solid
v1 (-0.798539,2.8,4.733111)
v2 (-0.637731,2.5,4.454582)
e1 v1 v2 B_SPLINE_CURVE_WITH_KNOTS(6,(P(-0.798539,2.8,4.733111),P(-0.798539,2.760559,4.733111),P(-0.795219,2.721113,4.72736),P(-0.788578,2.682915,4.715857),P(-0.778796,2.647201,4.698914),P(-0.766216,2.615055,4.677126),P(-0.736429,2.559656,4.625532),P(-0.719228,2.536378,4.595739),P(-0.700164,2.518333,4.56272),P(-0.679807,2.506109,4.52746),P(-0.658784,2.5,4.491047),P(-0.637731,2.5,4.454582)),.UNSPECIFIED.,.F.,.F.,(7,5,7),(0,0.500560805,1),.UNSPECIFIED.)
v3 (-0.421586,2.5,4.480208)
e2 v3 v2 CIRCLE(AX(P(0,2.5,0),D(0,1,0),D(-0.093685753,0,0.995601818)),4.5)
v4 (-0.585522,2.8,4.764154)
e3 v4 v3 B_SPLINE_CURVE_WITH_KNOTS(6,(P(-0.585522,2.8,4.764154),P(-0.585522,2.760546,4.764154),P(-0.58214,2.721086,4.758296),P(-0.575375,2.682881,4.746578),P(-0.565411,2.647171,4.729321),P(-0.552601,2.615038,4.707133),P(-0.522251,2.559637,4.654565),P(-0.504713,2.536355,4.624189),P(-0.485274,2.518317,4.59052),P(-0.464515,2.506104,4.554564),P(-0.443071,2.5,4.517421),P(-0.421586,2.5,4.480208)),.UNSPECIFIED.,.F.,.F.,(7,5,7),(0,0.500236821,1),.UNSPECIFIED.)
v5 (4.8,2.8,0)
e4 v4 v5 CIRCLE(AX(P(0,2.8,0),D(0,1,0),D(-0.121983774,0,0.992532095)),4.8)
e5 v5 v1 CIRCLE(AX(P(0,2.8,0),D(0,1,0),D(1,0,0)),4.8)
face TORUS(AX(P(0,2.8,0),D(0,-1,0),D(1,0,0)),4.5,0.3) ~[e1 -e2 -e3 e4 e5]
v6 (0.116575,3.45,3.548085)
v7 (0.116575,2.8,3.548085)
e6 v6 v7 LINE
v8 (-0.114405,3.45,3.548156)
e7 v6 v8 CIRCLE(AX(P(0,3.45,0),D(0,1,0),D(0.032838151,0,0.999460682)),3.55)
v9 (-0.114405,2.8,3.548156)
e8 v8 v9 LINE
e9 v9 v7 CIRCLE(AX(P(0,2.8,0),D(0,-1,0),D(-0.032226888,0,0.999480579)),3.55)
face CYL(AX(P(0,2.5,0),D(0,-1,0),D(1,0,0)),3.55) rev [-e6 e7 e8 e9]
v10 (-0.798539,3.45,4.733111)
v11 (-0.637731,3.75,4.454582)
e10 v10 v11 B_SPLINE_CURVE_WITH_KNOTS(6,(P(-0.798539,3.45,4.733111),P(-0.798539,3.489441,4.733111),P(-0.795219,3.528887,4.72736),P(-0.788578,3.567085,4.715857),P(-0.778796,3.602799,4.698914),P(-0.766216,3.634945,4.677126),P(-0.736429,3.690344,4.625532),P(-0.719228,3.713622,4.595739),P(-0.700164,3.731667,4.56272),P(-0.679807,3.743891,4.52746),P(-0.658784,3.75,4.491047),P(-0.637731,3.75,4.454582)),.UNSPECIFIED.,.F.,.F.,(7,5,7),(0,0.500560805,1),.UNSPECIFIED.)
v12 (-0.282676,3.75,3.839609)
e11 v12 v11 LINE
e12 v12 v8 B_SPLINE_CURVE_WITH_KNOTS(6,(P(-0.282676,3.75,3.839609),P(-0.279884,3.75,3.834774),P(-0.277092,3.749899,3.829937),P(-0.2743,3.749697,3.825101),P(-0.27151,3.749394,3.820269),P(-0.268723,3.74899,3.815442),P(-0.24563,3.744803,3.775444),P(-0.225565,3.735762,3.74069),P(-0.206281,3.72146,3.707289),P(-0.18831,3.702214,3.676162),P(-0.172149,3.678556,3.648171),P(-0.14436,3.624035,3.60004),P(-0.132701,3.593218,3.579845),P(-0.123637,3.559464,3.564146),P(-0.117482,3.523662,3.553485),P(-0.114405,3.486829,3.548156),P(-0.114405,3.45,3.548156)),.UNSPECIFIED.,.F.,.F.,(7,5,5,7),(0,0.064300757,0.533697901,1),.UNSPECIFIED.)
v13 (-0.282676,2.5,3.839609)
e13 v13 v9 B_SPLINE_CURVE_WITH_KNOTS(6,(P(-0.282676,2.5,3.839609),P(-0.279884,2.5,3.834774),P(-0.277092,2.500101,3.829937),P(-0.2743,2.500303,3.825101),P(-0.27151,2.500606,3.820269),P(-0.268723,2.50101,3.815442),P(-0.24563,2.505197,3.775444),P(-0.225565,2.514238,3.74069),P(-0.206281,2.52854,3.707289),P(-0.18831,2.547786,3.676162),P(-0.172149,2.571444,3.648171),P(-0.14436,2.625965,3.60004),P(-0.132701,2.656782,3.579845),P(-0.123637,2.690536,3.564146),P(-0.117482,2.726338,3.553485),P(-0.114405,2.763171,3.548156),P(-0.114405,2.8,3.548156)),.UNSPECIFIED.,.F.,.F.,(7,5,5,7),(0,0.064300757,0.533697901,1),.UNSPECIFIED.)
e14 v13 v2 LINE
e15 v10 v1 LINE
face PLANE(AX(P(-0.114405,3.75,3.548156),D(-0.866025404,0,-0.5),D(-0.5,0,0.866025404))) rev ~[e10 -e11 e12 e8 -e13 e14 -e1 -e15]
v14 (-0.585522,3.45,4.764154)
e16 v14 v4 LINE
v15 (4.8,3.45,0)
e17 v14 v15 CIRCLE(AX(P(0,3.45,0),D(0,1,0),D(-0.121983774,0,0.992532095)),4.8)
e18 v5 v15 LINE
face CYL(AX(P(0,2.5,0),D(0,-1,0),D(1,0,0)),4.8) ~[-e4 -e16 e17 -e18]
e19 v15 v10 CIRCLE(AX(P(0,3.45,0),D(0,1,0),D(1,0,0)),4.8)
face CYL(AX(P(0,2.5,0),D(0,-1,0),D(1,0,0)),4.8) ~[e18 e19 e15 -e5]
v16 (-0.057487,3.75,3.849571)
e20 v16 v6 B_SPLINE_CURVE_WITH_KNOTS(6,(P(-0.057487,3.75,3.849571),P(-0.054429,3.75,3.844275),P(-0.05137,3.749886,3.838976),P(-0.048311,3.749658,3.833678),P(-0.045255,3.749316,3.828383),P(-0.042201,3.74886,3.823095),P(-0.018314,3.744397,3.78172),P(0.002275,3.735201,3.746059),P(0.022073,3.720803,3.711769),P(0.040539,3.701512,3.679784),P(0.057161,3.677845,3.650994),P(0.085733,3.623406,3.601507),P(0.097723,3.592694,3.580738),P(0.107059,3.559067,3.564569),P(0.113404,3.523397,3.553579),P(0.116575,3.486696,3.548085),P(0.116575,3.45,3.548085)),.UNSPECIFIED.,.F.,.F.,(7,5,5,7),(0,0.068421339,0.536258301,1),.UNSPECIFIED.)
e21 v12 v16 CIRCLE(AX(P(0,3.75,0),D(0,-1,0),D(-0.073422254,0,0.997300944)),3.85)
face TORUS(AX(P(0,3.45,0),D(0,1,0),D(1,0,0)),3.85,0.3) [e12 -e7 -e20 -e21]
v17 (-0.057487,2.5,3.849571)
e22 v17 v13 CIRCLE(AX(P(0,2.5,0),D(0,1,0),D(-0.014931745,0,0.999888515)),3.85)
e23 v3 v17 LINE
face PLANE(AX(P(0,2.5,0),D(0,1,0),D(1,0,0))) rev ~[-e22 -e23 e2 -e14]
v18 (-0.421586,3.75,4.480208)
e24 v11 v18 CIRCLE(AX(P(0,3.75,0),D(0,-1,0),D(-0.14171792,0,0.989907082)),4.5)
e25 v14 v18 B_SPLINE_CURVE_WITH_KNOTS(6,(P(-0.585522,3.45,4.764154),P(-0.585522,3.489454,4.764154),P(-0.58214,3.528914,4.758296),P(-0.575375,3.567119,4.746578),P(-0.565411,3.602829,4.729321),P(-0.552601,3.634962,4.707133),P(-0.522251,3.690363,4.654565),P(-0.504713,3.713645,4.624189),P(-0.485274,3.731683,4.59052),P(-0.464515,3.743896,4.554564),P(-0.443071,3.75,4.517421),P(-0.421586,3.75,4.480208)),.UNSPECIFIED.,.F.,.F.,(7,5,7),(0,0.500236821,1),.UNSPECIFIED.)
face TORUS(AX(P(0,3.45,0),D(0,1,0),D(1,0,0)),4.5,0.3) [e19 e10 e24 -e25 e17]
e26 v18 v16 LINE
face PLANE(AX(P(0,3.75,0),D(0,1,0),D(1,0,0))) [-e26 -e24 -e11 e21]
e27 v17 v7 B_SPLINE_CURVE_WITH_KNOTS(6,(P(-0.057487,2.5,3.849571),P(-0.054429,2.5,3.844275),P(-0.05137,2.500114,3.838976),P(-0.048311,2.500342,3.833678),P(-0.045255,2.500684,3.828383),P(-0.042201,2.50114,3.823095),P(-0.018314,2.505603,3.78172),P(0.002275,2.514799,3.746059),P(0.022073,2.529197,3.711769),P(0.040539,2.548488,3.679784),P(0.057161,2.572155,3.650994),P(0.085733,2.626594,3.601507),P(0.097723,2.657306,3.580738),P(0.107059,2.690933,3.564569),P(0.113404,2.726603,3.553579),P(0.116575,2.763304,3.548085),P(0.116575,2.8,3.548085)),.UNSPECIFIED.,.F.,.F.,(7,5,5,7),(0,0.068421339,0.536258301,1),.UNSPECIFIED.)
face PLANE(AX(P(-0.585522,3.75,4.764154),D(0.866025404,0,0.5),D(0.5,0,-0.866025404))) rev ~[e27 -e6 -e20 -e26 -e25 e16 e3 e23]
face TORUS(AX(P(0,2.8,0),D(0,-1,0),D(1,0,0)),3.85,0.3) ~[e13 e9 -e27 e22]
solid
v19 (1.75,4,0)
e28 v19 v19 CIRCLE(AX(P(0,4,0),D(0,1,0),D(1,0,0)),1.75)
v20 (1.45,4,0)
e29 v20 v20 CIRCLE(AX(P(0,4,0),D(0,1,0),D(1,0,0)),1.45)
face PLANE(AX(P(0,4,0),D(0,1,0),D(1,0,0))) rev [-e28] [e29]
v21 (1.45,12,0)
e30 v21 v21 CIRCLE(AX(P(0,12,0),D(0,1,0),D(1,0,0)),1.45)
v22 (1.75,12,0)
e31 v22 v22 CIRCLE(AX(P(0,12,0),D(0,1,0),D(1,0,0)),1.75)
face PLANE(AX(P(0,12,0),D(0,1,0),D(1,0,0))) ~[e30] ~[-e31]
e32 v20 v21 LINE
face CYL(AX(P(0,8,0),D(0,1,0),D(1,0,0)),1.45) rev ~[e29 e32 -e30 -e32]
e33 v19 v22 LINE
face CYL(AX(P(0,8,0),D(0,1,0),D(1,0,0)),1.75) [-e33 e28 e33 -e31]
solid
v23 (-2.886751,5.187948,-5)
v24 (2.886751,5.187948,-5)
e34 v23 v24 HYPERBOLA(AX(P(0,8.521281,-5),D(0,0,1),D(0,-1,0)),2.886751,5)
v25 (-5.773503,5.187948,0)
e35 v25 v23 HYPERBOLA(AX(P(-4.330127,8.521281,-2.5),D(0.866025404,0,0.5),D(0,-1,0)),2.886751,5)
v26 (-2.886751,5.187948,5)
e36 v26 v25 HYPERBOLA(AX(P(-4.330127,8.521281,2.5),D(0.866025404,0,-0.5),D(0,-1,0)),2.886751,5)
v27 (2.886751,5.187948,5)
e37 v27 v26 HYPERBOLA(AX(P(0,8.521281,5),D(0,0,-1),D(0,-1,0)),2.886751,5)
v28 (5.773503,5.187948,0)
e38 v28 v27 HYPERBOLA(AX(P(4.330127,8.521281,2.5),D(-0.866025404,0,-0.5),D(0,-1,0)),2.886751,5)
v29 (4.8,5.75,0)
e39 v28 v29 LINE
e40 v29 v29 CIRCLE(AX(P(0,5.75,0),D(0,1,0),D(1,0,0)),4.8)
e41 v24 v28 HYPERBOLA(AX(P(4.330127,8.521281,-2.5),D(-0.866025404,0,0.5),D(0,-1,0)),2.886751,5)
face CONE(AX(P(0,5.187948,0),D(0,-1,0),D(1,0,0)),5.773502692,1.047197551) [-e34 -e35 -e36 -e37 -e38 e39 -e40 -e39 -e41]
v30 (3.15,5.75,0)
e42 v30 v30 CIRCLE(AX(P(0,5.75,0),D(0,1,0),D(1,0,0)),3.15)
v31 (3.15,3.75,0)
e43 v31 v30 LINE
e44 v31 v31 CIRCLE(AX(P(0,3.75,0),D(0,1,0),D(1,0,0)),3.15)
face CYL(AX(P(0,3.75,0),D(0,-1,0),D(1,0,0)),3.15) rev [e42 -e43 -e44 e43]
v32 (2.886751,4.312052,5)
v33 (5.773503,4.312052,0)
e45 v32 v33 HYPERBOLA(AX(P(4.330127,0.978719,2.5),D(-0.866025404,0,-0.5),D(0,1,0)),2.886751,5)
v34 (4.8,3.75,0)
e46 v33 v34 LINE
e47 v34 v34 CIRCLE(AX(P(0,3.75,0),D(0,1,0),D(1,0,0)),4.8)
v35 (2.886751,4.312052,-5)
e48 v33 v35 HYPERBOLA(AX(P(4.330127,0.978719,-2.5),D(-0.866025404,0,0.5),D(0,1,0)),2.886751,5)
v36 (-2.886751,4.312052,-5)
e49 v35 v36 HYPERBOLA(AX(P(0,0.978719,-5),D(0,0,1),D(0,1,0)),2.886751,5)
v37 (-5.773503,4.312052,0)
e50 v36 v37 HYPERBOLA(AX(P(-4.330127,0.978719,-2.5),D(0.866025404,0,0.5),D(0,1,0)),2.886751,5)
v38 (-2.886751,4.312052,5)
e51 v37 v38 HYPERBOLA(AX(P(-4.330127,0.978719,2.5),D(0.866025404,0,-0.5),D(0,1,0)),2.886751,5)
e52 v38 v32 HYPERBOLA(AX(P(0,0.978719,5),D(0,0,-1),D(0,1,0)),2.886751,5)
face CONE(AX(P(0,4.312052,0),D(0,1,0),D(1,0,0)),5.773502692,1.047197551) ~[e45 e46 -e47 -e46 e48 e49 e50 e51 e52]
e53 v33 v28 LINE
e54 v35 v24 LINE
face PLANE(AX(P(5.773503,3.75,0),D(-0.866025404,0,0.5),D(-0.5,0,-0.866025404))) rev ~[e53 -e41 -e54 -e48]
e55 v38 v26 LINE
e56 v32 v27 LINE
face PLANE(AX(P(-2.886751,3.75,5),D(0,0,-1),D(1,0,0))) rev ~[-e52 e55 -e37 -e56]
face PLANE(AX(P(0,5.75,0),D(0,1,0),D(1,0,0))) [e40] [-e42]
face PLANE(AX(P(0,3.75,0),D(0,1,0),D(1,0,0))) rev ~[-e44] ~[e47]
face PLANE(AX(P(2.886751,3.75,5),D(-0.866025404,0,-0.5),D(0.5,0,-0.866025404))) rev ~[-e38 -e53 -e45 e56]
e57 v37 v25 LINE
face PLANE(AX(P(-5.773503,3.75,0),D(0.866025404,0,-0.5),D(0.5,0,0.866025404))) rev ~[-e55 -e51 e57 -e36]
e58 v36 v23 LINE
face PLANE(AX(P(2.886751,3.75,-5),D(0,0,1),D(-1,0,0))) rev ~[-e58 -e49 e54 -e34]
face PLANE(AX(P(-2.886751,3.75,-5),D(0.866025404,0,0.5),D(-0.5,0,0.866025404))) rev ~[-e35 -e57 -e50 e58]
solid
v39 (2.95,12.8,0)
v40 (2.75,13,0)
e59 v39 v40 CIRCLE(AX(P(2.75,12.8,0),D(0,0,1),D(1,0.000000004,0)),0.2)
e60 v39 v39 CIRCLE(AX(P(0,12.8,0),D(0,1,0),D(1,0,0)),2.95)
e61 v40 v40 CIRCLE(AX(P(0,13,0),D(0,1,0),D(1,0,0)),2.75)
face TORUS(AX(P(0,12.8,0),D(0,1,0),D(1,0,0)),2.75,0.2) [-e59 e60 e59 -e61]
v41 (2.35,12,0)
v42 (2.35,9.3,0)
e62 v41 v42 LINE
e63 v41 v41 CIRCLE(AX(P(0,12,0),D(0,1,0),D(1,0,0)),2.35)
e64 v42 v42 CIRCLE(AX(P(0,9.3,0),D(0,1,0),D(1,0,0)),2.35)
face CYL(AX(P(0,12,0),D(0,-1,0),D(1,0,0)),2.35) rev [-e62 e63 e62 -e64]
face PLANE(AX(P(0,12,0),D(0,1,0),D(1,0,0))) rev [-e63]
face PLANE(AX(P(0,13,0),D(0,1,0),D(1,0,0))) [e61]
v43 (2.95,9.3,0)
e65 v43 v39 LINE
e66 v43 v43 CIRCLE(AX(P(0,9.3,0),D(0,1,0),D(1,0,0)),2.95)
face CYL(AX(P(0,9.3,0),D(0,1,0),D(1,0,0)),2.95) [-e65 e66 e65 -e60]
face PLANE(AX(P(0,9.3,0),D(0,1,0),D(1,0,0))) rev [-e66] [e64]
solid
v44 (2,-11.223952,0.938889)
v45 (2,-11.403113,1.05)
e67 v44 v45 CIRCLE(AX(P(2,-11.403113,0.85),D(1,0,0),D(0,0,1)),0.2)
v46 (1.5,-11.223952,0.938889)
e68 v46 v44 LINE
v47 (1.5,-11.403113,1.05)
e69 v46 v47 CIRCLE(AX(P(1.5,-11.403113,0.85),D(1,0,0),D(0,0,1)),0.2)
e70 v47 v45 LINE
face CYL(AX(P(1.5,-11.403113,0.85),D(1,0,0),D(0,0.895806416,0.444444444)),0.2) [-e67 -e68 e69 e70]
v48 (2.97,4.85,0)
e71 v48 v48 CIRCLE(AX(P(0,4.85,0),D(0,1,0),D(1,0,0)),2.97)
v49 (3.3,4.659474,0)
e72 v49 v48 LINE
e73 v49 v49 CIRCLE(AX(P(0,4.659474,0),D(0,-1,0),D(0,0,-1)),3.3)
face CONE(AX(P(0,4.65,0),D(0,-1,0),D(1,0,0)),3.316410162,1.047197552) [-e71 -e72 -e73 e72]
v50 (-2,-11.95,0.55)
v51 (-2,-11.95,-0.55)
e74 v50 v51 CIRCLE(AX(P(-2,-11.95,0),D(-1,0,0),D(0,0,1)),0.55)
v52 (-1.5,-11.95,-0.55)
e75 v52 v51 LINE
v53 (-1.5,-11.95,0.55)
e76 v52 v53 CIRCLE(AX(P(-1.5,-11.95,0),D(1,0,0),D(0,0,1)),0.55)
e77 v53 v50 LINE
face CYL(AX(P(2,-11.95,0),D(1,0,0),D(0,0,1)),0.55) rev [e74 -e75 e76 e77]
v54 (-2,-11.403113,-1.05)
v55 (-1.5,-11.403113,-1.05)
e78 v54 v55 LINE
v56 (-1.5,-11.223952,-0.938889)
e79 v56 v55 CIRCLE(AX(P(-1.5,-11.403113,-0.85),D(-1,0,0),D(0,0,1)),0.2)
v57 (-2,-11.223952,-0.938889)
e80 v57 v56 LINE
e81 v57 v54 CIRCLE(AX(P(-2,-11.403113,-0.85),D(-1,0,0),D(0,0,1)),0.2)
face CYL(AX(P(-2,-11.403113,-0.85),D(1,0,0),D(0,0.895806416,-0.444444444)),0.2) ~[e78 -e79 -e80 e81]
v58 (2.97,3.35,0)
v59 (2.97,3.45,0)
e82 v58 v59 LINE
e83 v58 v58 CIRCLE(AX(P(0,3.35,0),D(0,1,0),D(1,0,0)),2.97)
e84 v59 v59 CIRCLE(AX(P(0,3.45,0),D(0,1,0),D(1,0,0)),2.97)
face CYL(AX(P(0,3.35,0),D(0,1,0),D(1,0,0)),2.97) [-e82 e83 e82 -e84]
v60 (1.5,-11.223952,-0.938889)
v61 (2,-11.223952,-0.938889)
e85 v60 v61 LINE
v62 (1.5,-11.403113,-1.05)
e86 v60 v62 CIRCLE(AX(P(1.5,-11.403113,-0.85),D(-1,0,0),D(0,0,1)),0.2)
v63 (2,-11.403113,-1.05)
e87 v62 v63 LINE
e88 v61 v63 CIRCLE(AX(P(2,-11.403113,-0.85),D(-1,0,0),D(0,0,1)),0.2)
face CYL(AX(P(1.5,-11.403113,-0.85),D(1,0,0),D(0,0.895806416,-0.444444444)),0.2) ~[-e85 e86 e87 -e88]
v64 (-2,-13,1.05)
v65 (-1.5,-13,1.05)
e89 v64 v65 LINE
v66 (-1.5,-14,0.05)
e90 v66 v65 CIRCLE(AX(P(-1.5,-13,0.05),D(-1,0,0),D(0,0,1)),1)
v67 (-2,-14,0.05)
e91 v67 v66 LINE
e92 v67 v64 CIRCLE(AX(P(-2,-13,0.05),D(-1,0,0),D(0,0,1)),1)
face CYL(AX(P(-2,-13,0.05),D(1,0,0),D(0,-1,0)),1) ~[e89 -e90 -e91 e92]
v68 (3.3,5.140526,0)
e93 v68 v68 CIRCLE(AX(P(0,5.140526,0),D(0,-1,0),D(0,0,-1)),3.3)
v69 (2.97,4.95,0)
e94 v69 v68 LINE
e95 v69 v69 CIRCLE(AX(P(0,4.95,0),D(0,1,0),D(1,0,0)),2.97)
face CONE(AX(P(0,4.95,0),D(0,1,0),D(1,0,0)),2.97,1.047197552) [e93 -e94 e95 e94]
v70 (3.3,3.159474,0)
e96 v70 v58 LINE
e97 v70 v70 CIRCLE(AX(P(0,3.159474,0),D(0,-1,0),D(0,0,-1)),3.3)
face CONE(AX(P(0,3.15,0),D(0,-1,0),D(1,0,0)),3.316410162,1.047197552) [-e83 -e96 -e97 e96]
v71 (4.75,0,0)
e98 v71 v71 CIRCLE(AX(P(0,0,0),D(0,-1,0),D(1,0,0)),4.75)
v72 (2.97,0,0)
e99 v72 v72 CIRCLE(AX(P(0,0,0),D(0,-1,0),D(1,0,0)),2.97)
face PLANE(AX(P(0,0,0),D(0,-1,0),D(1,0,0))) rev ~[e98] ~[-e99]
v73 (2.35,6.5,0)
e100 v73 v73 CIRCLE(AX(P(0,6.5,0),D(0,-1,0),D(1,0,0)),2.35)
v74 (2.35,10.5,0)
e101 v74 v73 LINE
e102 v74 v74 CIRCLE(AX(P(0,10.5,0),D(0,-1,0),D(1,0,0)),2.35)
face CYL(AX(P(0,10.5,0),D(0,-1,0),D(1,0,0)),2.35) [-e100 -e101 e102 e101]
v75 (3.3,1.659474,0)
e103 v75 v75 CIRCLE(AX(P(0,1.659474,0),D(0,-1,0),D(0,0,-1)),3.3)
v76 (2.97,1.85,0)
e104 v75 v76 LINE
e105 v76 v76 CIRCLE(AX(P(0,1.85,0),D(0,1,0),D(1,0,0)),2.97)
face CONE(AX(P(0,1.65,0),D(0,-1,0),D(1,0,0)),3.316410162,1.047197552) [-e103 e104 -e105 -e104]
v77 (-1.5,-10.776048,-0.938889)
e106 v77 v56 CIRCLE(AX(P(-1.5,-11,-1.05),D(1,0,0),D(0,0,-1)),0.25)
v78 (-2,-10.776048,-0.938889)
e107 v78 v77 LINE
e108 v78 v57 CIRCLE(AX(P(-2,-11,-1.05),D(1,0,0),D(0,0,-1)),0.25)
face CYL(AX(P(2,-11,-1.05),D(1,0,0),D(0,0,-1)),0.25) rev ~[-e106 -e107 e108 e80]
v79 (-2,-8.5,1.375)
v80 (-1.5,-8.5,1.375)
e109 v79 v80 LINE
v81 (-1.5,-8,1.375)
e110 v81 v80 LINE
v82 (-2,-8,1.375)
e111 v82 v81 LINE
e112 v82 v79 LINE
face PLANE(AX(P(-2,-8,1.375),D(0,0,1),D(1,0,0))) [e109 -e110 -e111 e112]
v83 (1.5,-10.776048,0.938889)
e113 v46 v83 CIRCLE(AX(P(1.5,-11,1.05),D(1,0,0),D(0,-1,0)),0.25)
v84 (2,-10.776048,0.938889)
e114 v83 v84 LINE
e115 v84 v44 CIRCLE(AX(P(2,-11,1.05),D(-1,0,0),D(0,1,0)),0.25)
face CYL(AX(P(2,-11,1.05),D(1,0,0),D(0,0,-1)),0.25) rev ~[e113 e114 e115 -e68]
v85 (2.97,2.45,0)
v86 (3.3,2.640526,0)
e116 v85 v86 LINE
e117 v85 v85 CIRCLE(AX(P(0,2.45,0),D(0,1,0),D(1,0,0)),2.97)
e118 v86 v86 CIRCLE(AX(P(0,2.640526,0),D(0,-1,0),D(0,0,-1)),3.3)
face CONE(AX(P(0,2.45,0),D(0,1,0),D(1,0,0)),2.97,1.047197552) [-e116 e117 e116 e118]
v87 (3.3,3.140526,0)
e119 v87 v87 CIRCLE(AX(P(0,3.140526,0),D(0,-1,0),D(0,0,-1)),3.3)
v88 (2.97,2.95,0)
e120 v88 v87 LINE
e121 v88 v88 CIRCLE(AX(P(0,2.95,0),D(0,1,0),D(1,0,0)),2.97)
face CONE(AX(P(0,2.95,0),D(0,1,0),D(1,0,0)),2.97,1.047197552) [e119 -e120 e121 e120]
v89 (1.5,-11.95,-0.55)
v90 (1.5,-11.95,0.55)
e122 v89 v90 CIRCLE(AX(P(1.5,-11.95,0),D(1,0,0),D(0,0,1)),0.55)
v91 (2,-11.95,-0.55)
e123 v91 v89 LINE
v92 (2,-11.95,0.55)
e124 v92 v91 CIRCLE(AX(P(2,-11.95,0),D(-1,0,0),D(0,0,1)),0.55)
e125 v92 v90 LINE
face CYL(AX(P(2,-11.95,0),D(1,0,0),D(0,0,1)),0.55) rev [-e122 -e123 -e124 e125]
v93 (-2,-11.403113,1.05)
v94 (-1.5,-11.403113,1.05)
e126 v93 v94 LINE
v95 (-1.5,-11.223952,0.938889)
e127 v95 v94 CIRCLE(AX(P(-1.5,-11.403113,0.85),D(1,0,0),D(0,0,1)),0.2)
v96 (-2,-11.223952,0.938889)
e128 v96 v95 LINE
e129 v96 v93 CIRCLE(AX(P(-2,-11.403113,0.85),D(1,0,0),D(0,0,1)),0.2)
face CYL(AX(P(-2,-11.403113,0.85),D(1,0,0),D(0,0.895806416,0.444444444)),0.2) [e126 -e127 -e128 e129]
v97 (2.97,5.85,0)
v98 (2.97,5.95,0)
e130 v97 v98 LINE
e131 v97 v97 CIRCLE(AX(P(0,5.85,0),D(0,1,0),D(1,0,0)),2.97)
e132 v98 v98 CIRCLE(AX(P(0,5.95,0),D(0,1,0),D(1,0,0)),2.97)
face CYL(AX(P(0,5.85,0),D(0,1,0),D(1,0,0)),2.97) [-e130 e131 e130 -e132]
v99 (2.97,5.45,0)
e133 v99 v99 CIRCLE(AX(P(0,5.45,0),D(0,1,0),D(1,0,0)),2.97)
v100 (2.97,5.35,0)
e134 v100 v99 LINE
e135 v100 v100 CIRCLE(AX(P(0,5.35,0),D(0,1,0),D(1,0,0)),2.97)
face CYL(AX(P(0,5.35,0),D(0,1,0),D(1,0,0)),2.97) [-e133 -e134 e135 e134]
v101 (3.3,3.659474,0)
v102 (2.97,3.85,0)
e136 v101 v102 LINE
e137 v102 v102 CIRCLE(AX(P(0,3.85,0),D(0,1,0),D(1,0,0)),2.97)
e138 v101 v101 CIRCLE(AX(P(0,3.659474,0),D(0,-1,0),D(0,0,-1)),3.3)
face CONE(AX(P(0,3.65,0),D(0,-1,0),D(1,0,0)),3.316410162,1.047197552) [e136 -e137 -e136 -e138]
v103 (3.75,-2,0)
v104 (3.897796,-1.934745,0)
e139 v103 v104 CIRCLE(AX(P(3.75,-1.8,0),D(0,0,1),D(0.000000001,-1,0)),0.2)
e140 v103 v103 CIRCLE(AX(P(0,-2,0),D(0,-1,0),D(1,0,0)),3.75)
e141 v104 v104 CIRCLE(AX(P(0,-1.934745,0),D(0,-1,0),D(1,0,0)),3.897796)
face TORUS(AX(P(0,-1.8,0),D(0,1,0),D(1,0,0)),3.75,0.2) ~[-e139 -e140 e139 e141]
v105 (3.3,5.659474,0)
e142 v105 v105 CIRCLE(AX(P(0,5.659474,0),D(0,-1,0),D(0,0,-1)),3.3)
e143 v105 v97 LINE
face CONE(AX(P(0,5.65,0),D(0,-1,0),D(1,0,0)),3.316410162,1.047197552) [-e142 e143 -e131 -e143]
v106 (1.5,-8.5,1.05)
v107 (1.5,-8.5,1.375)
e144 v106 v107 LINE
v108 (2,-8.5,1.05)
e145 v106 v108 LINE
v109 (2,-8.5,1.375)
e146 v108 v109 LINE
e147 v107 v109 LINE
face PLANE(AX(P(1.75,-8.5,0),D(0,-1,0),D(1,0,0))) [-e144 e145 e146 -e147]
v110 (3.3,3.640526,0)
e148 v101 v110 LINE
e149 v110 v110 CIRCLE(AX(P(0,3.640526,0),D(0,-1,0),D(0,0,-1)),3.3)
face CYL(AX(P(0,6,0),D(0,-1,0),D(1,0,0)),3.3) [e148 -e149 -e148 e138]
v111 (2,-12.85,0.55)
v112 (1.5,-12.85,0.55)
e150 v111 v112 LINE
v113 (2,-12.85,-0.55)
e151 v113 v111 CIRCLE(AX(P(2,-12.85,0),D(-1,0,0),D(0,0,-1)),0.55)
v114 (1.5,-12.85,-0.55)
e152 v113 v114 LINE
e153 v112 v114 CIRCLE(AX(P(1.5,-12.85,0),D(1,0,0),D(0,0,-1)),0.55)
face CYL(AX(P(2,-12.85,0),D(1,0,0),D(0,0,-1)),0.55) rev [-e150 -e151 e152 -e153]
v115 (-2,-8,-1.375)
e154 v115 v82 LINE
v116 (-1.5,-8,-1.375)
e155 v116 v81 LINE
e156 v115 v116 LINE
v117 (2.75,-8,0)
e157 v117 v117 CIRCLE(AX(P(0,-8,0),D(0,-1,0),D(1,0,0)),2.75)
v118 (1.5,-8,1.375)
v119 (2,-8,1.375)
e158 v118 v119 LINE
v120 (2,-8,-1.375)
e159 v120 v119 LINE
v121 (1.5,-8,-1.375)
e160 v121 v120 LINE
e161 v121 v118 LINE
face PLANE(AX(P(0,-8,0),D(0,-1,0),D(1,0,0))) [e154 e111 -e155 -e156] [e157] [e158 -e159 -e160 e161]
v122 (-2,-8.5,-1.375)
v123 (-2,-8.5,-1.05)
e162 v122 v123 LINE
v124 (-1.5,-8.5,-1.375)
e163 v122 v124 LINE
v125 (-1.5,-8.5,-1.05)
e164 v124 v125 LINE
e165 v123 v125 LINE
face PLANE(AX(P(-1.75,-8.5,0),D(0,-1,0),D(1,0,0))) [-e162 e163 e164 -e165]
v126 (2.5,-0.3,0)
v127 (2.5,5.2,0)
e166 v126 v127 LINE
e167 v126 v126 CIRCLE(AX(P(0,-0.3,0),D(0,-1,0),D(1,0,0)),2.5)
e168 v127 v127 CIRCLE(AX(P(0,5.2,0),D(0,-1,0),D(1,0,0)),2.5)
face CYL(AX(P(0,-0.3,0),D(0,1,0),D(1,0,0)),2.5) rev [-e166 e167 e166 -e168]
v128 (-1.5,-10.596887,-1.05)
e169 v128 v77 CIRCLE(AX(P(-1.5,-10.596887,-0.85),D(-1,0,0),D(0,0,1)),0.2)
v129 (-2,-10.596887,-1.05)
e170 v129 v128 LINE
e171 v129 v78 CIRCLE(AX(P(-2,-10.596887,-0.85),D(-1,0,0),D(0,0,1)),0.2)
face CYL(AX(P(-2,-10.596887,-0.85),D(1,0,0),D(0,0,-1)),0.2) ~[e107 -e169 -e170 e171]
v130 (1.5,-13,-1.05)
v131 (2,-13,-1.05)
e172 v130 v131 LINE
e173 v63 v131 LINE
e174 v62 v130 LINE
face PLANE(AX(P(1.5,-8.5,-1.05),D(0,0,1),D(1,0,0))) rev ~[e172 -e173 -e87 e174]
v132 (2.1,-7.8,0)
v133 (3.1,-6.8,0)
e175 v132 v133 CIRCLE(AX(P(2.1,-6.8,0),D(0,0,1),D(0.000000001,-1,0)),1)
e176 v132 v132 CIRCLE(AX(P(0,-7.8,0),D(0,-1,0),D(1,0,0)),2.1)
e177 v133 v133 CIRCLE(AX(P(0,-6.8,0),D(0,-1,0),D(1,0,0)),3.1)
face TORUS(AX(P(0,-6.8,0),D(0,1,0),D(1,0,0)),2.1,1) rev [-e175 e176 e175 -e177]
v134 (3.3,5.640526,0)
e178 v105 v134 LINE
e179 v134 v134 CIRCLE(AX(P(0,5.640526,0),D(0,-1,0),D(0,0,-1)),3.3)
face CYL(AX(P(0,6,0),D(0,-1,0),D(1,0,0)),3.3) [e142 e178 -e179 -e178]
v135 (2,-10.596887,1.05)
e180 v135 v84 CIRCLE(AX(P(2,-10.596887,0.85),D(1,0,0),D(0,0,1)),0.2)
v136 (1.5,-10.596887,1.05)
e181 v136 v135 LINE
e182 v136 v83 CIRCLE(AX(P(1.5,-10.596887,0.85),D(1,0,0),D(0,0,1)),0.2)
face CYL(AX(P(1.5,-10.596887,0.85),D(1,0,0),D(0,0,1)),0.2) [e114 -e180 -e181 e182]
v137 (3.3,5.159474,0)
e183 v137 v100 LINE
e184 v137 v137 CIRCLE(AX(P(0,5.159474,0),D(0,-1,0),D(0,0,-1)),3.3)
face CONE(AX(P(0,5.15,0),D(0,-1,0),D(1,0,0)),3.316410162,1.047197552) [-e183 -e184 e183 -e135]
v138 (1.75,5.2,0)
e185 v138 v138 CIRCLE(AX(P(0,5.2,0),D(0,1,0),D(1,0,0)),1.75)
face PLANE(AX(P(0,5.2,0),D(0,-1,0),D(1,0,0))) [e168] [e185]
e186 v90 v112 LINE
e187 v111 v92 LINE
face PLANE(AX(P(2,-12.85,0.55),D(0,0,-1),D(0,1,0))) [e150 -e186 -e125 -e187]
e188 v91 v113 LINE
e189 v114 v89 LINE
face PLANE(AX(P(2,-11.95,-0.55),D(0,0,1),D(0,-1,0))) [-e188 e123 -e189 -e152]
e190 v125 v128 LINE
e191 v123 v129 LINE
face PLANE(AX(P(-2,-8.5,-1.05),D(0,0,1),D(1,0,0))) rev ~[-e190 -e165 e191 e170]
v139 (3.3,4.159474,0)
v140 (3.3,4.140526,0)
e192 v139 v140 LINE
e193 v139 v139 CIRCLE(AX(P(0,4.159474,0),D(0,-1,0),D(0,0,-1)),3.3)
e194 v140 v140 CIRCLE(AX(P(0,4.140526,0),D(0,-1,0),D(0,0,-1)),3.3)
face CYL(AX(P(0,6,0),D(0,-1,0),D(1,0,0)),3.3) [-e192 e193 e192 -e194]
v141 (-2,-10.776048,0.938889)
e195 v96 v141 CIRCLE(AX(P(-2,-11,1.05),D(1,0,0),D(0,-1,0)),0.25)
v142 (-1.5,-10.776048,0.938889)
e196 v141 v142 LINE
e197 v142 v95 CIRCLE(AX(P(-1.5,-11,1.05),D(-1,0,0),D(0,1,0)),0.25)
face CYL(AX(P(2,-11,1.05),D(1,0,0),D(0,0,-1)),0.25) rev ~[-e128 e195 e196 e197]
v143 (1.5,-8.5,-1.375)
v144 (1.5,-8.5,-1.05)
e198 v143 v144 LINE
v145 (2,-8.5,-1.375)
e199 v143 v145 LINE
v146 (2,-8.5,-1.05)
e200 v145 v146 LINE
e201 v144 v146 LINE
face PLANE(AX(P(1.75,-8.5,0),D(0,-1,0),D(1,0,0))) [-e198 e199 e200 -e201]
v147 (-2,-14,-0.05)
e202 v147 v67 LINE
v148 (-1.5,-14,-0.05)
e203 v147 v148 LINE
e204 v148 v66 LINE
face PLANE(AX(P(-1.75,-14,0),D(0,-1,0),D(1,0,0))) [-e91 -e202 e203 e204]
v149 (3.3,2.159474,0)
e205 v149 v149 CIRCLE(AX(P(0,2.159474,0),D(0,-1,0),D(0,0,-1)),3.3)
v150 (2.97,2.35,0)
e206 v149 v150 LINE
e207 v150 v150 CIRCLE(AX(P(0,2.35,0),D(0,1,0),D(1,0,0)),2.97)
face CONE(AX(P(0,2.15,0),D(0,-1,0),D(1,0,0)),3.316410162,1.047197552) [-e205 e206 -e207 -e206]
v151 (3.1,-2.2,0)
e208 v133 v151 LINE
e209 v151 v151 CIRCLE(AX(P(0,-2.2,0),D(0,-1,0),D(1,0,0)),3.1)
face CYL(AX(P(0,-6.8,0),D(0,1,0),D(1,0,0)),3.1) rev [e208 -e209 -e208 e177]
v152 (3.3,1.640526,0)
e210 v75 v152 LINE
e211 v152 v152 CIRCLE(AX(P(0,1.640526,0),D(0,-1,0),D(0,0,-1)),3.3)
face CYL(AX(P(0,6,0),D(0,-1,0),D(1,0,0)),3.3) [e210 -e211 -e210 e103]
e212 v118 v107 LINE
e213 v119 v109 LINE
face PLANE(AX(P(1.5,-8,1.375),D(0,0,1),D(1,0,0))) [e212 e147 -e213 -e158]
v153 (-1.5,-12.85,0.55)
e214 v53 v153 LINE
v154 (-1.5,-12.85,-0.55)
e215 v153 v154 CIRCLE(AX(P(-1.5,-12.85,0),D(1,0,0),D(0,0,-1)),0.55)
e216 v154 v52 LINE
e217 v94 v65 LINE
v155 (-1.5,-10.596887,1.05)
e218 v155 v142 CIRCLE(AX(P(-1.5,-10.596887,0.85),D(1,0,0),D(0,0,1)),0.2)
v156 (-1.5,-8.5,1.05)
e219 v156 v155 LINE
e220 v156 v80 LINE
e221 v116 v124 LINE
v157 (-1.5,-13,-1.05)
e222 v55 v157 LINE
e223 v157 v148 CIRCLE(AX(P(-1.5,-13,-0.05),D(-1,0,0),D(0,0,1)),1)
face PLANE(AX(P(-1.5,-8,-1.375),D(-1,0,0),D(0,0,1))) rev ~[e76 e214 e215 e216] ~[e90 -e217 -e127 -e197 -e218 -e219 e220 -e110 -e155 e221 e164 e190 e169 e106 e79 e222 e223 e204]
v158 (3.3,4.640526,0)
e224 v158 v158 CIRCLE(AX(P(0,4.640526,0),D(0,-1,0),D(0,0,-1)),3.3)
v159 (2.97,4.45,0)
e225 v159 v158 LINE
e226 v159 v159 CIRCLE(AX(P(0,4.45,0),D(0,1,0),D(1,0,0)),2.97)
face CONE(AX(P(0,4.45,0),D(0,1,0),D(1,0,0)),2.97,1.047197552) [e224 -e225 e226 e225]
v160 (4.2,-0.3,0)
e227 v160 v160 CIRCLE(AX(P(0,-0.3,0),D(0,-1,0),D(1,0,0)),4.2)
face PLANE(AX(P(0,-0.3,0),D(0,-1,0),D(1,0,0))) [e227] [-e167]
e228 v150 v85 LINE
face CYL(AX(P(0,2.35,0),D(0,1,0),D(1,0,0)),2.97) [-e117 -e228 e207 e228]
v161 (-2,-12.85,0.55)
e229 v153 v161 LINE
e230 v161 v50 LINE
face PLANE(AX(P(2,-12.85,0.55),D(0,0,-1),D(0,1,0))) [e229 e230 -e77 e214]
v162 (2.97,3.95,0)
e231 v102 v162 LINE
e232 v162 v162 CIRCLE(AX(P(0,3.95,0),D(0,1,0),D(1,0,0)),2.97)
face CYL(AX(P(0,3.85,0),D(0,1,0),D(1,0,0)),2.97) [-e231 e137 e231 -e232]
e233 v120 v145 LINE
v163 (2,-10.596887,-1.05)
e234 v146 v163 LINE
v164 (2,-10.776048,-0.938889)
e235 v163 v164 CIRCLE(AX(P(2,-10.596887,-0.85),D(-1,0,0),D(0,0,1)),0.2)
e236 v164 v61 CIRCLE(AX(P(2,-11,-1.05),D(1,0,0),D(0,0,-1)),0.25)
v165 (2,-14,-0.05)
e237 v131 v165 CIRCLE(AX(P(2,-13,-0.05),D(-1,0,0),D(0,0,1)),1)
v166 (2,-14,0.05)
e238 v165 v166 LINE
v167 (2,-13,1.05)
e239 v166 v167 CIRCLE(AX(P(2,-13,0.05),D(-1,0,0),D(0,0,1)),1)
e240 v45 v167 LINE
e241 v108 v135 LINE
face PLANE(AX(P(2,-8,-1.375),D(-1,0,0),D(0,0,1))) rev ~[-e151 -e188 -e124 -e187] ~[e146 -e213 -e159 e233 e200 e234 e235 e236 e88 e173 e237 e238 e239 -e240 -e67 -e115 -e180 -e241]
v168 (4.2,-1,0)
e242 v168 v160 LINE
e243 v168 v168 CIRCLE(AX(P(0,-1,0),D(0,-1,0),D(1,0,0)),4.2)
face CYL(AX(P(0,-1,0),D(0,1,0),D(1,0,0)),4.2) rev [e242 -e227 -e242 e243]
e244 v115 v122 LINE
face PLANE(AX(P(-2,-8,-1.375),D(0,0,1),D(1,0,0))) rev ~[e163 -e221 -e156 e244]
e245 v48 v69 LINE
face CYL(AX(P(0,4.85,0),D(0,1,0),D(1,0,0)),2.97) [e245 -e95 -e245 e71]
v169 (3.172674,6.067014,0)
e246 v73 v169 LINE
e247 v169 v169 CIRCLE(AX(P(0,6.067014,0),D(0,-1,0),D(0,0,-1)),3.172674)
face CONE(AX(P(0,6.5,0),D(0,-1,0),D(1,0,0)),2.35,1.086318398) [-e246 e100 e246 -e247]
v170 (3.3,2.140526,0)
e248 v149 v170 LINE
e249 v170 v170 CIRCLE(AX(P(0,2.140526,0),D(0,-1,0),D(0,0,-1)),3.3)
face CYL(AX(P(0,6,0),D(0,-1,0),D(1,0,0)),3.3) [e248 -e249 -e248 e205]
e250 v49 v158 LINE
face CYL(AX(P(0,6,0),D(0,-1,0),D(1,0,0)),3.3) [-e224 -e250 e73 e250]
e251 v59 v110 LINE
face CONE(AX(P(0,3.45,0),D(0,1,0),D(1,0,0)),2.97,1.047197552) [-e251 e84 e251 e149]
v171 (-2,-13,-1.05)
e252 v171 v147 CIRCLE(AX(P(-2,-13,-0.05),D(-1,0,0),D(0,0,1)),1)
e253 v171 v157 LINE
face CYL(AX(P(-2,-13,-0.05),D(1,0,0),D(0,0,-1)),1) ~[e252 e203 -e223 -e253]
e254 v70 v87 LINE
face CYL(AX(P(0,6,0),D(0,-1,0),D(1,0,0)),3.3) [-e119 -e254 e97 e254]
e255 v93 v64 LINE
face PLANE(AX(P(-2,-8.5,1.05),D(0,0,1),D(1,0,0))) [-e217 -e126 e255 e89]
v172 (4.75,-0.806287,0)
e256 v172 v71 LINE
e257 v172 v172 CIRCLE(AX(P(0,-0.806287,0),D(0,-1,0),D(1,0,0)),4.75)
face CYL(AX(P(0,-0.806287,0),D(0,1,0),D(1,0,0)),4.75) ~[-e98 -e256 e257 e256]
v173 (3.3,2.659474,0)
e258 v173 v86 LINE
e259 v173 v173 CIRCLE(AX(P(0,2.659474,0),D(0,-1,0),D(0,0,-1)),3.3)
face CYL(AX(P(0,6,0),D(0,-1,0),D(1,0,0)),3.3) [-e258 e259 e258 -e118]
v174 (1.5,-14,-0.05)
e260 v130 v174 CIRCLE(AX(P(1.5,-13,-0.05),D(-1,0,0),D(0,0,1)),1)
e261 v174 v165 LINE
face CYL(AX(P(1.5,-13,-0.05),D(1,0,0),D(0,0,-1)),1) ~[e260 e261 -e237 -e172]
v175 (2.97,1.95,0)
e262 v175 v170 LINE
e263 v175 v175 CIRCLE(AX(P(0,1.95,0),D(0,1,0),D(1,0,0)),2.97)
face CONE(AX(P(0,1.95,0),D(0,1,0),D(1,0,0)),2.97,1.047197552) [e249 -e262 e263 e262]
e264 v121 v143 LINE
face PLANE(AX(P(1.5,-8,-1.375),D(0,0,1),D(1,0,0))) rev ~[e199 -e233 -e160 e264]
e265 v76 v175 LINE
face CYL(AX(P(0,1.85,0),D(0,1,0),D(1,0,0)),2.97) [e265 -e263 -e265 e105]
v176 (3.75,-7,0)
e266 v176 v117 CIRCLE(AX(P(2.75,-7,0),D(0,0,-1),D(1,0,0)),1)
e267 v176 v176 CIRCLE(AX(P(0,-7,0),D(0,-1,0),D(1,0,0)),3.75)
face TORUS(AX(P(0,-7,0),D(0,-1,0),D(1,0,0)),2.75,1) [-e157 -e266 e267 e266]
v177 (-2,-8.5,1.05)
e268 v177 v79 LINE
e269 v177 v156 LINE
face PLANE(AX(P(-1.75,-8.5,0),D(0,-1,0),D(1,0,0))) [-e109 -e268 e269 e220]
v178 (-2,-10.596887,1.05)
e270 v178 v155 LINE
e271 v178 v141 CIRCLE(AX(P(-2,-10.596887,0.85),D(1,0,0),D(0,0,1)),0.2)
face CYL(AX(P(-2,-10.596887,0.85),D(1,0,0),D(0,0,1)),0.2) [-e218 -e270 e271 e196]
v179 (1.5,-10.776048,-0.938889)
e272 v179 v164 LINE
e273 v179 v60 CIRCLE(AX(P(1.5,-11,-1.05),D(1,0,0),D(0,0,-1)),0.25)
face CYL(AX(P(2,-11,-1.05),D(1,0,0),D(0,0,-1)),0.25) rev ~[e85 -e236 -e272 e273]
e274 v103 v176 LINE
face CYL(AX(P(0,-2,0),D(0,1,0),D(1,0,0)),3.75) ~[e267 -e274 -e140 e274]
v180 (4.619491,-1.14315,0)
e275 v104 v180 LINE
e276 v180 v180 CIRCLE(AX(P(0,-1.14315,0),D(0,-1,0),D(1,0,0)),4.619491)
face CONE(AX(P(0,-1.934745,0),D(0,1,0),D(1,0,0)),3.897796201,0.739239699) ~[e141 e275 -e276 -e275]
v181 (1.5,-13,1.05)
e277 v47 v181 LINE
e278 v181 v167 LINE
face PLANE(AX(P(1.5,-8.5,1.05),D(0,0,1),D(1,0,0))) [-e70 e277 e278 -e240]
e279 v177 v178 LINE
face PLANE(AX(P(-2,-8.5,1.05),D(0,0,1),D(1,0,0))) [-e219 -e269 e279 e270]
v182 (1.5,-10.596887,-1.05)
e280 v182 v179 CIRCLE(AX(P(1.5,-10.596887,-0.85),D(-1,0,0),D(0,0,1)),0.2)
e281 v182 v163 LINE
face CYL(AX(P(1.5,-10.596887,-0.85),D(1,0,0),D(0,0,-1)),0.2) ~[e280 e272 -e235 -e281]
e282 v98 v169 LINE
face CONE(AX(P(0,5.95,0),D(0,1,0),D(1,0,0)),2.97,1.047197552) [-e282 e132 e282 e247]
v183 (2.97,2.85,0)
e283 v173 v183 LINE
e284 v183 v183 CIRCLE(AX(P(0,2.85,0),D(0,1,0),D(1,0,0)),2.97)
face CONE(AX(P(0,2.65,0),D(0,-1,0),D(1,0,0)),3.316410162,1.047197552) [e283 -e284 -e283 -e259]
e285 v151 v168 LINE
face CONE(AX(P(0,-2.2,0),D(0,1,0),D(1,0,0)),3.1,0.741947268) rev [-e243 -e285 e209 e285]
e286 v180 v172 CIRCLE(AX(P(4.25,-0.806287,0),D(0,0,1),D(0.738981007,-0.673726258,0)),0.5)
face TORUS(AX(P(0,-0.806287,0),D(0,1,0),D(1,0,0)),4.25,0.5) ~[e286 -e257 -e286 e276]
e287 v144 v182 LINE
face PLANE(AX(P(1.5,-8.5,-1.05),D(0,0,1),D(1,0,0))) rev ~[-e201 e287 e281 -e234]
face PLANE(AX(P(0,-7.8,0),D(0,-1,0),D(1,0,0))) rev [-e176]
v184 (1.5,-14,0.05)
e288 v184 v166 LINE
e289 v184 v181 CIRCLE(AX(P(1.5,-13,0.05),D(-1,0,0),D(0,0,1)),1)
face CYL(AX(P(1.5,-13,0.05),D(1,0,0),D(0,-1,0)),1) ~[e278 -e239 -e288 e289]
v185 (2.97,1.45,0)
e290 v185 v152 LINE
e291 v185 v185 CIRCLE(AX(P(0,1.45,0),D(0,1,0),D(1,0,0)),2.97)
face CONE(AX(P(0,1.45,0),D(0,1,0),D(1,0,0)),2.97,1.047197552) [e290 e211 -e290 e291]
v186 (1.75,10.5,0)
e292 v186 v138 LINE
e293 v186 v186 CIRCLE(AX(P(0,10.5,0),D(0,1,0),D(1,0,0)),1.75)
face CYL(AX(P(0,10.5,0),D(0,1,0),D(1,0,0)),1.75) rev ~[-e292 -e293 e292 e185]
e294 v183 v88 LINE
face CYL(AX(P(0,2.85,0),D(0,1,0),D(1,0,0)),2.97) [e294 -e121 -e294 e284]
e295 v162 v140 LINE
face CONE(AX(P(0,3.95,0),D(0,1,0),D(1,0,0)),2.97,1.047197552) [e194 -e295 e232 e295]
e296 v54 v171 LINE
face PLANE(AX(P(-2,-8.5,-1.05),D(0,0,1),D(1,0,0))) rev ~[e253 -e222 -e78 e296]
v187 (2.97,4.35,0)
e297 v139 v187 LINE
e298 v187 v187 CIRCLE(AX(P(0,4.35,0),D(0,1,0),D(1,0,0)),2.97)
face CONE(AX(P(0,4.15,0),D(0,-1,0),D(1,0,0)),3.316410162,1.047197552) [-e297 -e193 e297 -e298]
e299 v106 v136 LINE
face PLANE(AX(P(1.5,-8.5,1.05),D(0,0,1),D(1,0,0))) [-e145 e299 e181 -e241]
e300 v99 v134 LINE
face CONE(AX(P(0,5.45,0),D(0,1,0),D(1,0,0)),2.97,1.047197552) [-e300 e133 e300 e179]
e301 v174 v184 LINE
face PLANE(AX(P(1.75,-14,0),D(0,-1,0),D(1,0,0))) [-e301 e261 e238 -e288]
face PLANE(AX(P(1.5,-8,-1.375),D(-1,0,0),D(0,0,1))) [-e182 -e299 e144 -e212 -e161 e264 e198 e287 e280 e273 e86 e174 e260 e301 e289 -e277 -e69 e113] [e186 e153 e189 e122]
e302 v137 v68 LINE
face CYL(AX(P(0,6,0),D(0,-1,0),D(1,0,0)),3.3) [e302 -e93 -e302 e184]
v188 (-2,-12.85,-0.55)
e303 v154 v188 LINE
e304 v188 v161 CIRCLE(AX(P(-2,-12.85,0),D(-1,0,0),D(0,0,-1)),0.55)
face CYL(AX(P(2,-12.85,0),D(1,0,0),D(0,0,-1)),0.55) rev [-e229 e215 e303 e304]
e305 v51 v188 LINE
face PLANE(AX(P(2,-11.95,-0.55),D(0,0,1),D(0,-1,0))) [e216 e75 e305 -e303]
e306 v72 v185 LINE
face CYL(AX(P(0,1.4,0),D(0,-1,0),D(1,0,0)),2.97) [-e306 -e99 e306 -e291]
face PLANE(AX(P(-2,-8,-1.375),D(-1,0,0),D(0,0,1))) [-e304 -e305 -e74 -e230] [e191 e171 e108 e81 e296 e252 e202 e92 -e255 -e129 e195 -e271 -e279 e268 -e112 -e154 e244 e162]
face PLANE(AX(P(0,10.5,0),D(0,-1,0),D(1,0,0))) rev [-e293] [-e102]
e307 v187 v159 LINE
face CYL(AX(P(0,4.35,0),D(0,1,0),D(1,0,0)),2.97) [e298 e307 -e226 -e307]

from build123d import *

# Parameters (mm, degrees)
SKETCH3_R                = 3.75
BOSS_EXTRUDE1_DEPTH      = 6
FILLET1_R                = 1
LPATTERN1_COUNT          = 10
LPATTERN1_PITCH          = 0.5
SKETCH6_R                = 1.75
CUT_EXTRUDE1_DEPTH       = 10
SKETCH7_W                = 0.5
SKETCH7_H                = 2.75
BOSS_EXTRUDE2_DEPTH      = 0.5
SKETCH8_W                = 0.5
SKETCH8_H                = 2.1
BOSS_EXTRUDE3_DEPTH      = 5.5
SKETCH9_R                = 0.25
CUT_EXTRUDE2_DEPTH       = 4
CUT_EXTRUDE3_DEPTH       = 4
FILLET2_R                = 0.2
FILLET3_R                = 1
SKETCH12_R               = 4.8
SKETCH12_R_2             = 3.55
BOSS_EXTRUDE4_DEPTH      = 1.25
CUT_EXTRUDE4_DEPTH       = 1.25
FILLET5_R                = 0.3
SKETCH14_R               = 3.15
BOSS_EXTRUDE5_DEPTH      = 2
SKETCH_19_5_DOWN_21_UP_W = 0.3
SKETCH_19_5_DOWN_21_UP_H = 8


with BuildPart() as part:
    # Sketch1 → Revolve1 (revolve)
    with BuildSketch(Plane.XY):
        with BuildLine():
            Line((0, 0), (0, -2))
            Line((0, -2), (3.75, -2))
            ThreePointArc((3.75, -2), (3.830780411, -1.982960447), (3.897796201, -1.934745252))
            Line((3.897796201, -1.934745252), (4.619490503, -1.143150186))
            ThreePointArc((4.619490503, -1.143150186), (4.716232373, -0.986917547), (4.75, -0.806287057))
            Line((4.75, -0.806287057), (4.75, 0))
            Line((4.75, 0), (0, 0))
        make_face()
    revolve(axis=Axis((0, 0, 0), (0, -1, 0)))

    # Sketch3 → Boss-Extrude1 (add)
    with BuildSketch(Plane.XZ.offset(2)):
        Circle(SKETCH3_R)
    extrude(amount=BOSS_EXTRUDE1_DEPTH)

    # Fillet1
    fillet1_edges = [part.edges().sort_by_distance(p)[0] for p in [
        (-3.75, -8, 0),
    ]]
    fillet(fillet1_edges, radius=FILLET1_R)

    # Sketch4 → Revolve2 (revolve)
    with BuildSketch(Plane.XY):
        Polygon((0, 0), (0, 10.5), (2.35, 10.5), (2.35, 6.5), (3.3, 6), (3.3, 1.4), (2.97, 1.4), (2.97, 0), align=None)
    revolve(axis=Axis((0, 0, 0), (0, -1, 0)))

    # Sketch5 → Cut-Revolve1 (revolve, cut)
    with BuildSketch(Plane.XY):
        Polygon((3.816410162, 1.65), (3.816410162, 1.15), (3.316410162, 1.15), (2.97, 1.35), (2.97, 1.45), (3.316410162, 1.65), align=None)
    cut_revolve1 = revolve(axis=Axis((0, 0, 0), (0, 1, 0)), mode=Mode.SUBTRACT)

    # LPattern1: Cut-Revolve1 ×10
    with Locations(*[(0, i * LPATTERN1_PITCH, 0) for i in range(1, LPATTERN1_COUNT)]):
        add(cut_revolve1, mode=Mode.SUBTRACT)

    # Sketch6 → Cut-Extrude1 (cut)
    with BuildSketch(Plane(origin=(0, 10.5, 0), x_dir=(1, 0, 0), z_dir=(0, 1, 0))):
        Circle(SKETCH6_R)
    extrude(amount=-CUT_EXTRUDE1_DEPTH, mode=Mode.SUBTRACT)

    # Sketch7 → Boss-Extrude2 (add)
    with BuildSketch(Plane.XZ.offset(8)):
        with Locations((1.75, 0)):
            Rectangle(SKETCH7_W, SKETCH7_H)
        with Locations((-1.75, 0)):
            Rectangle(SKETCH7_W, SKETCH7_H)
    extrude(amount=BOSS_EXTRUDE2_DEPTH)

    # Sketch8 → Boss-Extrude3 (add)
    with BuildSketch(Plane.XZ.offset(8.5)):
        with Locations((-1.75, 0)):
            Rectangle(SKETCH8_W, SKETCH8_H)
        with Locations((1.75, 0)):
            Rectangle(SKETCH8_W, SKETCH8_H)
    extrude(amount=BOSS_EXTRUDE3_DEPTH)

    # Sketch9 → Cut-Extrude2 (cut)
    with BuildSketch(Plane(origin=(2, 0, 0), x_dir=(0, 0, -1), z_dir=(1, 0, 0))):
        with Locations((-1.05, -11)):
            Circle(SKETCH9_R)
        with Locations((1.05, -11)):
            Circle(SKETCH9_R)
    extrude(amount=-CUT_EXTRUDE2_DEPTH, mode=Mode.SUBTRACT)

    # Sketch10 → Cut-Extrude3 (cut)
    with BuildSketch(Plane(origin=(2, 0, 0), x_dir=(0, 0, -1), z_dir=(1, 0, 0))):
        with BuildLine():
            Line((0.55, -11.95), (0.55, -12.85))
            ThreePointArc((0.55, -12.85), (0, -13.4), (-0.55, -12.85))
            Line((-0.55, -12.85), (-0.55, -11.95))
            ThreePointArc((-0.55, -11.95), (0, -11.4), (0.55, -11.95))
        make_face()
    extrude(amount=-CUT_EXTRUDE3_DEPTH, mode=Mode.SUBTRACT)

    # Fillet2
    fillet2_edges = [part.edges().sort_by_distance(p)[0] for p in [
        (1.75, -10.75, -1.05),
        (1.75, -11.25, -1.05),
        (1.75, -11.25, 1.05),
        (1.75, -10.75, 1.05),
        (-1.75, -11.25, -1.05),
        (-1.75, -10.75, -1.05),
        (-1.75, -10.75, 1.05),
        (-1.75, -11.25, 1.05),
    ]]
    fillet(fillet2_edges, radius=FILLET2_R)

    # Fillet3
    fillet3_edges = [part.edges().sort_by_distance(p)[0] for p in [
        (-1.75, -14, -1.05),
        (-1.75, -14, 1.05),
        (1.75, -14, 1.05),
        (1.75, -14, -1.05),
    ]]
    fillet(fillet3_edges, radius=FILLET3_R)

    # Sketch19 → Real-World Weight Adjustment (revolve, cut)
    with BuildSketch(Plane.XY):
        with BuildLine():
            Line((0, 5.2), (0, -7.8))
            Line((0, -7.8), (2.1, -7.8))
            ThreePointArc((2.1, -7.8), (2.807106781, -7.507106781), (3.1, -6.8))
            Line((3.1, -6.8), (3.1, -2.2))
            Line((3.1, -2.2), (4.2, -1))
            Line((4.2, -1), (4.2, -0.3))
            Line((4.2, -0.3), (2.5, -0.3))
            Line((2.5, -0.3), (2.5, 5.2))
            Line((2.5, 5.2), (0, 5.2))
        make_face()
    revolve(axis=Axis((0, -7.8, 0), (0, -1, 0)), mode=Mode.SUBTRACT)


with BuildPart() as body_2:
    # Sketch12 → Boss-Extrude4 (new body)
    with BuildSketch(Plane(origin=(0, 2.5, 0), x_dir=(1, 0, 0), z_dir=(0, 1, 0))):
        Circle(SKETCH12_R)
        Circle(SKETCH12_R_2, mode=Mode.SUBTRACT)
    extrude(amount=BOSS_EXTRUDE4_DEPTH)

    # Sketch13 → Cut-Extrude4 (cut)
    with BuildSketch(Plane(origin=(0, 3.75, 0), x_dir=(1, 0, 0), z_dir=(0, 1, 0))):
        with BuildLine():
            Line((-0.114405452, -3.548156055), (-0.798539226, -4.733110511))
            ThreePointArc((-0.798539226, -4.733110511), (-0.69220472, -4.749826589), (-0.585522116, -4.764154054))
            Line((-0.585522116, -4.764154054), (0.116575435, -3.548085423))
            ThreePointArc((0.116575435, -3.548085423), (0.001085566, -3.549999834), (-0.114405452, -3.548156055))
        make_face()
    extrude(amount=-CUT_EXTRUDE4_DEPTH, mode=Mode.SUBTRACT)

    # Fillet5
    fillet5_edges = [body_2.edges().sort_by_distance(p)[0] for p in [
        (-3.098952381, 3.75, -3.665582374),
        (-3.098952381, 2.5, -3.665582374),
        (-2.469449397, 2.5, -2.550356774),
        (-2.469449397, 3.75, -2.550356774),
    ]]
    fillet(fillet5_edges, radius=FILLET5_R)


with BuildPart() as body_3:
    # Sketch14 → Boss-Extrude5 (new body)
    with BuildSketch(Plane(origin=(0, 3.75, 0), x_dir=(1, 0, 0), z_dir=(0, 1, 0))):
        Polygon((5.773502692, 0), (2.886751346, 5), (-2.886751346, 5), (-5.773502692, 0), (-2.886751346, -5), (2.886751346, -5), align=None)
        Circle(SKETCH14_R, mode=Mode.SUBTRACT)
    extrude(amount=BOSS_EXTRUDE5_DEPTH)

    # Sketch15 → Cut-Revolve2 (revolve, cut)
    with BuildSketch(Plane.XY):
        Polygon((4.8, 5.75), (5.773502692, 5.75), (5.773502692, 5.187947959), align=None)
        Polygon((4.8, 3.75), (5.773502692, 3.75), (5.773502692, 4.312052041), align=None)
    revolve(axis=Axis((0, 3.75, 0), (0, 1, 0)), mode=Mode.SUBTRACT)


with BuildPart() as body_4:
    # Sketch 19.5 Down 21 Up → SWITCH 19.5 Down 21 Up (revolve)
    with BuildSketch(Plane.XY):
        with Locations((1.6, 8)):
            Rectangle(SKETCH_19_5_DOWN_21_UP_W, SKETCH_19_5_DOWN_21_UP_H)
    revolve(axis=Axis((0, 4, 0), (0, 1, 0)))


with BuildPart() as body_5:
    # Sketch21 → Red Cap (revolve)
    with BuildSketch(Plane.XY):
        with BuildLine():
            Line((0, 13), (0, 12))
            Line((0, 12), (2.35, 12))
            Line((2.35, 12), (2.35, 9.3))
            Line((2.35, 9.3), (2.95, 9.3))
            Line((2.95, 9.3), (2.95, 12.8))
            ThreePointArc((2.95, 12.8), (2.891421356, 12.941421356), (2.75, 13))
            Line((2.75, 13), (0, 13))
        make_face()
    revolve(axis=Axis((0, 12, 0), (0, 1, 0)))


solid = Compound([part.part, body_2.part, body_3.part, body_4.part, body_5.part])
